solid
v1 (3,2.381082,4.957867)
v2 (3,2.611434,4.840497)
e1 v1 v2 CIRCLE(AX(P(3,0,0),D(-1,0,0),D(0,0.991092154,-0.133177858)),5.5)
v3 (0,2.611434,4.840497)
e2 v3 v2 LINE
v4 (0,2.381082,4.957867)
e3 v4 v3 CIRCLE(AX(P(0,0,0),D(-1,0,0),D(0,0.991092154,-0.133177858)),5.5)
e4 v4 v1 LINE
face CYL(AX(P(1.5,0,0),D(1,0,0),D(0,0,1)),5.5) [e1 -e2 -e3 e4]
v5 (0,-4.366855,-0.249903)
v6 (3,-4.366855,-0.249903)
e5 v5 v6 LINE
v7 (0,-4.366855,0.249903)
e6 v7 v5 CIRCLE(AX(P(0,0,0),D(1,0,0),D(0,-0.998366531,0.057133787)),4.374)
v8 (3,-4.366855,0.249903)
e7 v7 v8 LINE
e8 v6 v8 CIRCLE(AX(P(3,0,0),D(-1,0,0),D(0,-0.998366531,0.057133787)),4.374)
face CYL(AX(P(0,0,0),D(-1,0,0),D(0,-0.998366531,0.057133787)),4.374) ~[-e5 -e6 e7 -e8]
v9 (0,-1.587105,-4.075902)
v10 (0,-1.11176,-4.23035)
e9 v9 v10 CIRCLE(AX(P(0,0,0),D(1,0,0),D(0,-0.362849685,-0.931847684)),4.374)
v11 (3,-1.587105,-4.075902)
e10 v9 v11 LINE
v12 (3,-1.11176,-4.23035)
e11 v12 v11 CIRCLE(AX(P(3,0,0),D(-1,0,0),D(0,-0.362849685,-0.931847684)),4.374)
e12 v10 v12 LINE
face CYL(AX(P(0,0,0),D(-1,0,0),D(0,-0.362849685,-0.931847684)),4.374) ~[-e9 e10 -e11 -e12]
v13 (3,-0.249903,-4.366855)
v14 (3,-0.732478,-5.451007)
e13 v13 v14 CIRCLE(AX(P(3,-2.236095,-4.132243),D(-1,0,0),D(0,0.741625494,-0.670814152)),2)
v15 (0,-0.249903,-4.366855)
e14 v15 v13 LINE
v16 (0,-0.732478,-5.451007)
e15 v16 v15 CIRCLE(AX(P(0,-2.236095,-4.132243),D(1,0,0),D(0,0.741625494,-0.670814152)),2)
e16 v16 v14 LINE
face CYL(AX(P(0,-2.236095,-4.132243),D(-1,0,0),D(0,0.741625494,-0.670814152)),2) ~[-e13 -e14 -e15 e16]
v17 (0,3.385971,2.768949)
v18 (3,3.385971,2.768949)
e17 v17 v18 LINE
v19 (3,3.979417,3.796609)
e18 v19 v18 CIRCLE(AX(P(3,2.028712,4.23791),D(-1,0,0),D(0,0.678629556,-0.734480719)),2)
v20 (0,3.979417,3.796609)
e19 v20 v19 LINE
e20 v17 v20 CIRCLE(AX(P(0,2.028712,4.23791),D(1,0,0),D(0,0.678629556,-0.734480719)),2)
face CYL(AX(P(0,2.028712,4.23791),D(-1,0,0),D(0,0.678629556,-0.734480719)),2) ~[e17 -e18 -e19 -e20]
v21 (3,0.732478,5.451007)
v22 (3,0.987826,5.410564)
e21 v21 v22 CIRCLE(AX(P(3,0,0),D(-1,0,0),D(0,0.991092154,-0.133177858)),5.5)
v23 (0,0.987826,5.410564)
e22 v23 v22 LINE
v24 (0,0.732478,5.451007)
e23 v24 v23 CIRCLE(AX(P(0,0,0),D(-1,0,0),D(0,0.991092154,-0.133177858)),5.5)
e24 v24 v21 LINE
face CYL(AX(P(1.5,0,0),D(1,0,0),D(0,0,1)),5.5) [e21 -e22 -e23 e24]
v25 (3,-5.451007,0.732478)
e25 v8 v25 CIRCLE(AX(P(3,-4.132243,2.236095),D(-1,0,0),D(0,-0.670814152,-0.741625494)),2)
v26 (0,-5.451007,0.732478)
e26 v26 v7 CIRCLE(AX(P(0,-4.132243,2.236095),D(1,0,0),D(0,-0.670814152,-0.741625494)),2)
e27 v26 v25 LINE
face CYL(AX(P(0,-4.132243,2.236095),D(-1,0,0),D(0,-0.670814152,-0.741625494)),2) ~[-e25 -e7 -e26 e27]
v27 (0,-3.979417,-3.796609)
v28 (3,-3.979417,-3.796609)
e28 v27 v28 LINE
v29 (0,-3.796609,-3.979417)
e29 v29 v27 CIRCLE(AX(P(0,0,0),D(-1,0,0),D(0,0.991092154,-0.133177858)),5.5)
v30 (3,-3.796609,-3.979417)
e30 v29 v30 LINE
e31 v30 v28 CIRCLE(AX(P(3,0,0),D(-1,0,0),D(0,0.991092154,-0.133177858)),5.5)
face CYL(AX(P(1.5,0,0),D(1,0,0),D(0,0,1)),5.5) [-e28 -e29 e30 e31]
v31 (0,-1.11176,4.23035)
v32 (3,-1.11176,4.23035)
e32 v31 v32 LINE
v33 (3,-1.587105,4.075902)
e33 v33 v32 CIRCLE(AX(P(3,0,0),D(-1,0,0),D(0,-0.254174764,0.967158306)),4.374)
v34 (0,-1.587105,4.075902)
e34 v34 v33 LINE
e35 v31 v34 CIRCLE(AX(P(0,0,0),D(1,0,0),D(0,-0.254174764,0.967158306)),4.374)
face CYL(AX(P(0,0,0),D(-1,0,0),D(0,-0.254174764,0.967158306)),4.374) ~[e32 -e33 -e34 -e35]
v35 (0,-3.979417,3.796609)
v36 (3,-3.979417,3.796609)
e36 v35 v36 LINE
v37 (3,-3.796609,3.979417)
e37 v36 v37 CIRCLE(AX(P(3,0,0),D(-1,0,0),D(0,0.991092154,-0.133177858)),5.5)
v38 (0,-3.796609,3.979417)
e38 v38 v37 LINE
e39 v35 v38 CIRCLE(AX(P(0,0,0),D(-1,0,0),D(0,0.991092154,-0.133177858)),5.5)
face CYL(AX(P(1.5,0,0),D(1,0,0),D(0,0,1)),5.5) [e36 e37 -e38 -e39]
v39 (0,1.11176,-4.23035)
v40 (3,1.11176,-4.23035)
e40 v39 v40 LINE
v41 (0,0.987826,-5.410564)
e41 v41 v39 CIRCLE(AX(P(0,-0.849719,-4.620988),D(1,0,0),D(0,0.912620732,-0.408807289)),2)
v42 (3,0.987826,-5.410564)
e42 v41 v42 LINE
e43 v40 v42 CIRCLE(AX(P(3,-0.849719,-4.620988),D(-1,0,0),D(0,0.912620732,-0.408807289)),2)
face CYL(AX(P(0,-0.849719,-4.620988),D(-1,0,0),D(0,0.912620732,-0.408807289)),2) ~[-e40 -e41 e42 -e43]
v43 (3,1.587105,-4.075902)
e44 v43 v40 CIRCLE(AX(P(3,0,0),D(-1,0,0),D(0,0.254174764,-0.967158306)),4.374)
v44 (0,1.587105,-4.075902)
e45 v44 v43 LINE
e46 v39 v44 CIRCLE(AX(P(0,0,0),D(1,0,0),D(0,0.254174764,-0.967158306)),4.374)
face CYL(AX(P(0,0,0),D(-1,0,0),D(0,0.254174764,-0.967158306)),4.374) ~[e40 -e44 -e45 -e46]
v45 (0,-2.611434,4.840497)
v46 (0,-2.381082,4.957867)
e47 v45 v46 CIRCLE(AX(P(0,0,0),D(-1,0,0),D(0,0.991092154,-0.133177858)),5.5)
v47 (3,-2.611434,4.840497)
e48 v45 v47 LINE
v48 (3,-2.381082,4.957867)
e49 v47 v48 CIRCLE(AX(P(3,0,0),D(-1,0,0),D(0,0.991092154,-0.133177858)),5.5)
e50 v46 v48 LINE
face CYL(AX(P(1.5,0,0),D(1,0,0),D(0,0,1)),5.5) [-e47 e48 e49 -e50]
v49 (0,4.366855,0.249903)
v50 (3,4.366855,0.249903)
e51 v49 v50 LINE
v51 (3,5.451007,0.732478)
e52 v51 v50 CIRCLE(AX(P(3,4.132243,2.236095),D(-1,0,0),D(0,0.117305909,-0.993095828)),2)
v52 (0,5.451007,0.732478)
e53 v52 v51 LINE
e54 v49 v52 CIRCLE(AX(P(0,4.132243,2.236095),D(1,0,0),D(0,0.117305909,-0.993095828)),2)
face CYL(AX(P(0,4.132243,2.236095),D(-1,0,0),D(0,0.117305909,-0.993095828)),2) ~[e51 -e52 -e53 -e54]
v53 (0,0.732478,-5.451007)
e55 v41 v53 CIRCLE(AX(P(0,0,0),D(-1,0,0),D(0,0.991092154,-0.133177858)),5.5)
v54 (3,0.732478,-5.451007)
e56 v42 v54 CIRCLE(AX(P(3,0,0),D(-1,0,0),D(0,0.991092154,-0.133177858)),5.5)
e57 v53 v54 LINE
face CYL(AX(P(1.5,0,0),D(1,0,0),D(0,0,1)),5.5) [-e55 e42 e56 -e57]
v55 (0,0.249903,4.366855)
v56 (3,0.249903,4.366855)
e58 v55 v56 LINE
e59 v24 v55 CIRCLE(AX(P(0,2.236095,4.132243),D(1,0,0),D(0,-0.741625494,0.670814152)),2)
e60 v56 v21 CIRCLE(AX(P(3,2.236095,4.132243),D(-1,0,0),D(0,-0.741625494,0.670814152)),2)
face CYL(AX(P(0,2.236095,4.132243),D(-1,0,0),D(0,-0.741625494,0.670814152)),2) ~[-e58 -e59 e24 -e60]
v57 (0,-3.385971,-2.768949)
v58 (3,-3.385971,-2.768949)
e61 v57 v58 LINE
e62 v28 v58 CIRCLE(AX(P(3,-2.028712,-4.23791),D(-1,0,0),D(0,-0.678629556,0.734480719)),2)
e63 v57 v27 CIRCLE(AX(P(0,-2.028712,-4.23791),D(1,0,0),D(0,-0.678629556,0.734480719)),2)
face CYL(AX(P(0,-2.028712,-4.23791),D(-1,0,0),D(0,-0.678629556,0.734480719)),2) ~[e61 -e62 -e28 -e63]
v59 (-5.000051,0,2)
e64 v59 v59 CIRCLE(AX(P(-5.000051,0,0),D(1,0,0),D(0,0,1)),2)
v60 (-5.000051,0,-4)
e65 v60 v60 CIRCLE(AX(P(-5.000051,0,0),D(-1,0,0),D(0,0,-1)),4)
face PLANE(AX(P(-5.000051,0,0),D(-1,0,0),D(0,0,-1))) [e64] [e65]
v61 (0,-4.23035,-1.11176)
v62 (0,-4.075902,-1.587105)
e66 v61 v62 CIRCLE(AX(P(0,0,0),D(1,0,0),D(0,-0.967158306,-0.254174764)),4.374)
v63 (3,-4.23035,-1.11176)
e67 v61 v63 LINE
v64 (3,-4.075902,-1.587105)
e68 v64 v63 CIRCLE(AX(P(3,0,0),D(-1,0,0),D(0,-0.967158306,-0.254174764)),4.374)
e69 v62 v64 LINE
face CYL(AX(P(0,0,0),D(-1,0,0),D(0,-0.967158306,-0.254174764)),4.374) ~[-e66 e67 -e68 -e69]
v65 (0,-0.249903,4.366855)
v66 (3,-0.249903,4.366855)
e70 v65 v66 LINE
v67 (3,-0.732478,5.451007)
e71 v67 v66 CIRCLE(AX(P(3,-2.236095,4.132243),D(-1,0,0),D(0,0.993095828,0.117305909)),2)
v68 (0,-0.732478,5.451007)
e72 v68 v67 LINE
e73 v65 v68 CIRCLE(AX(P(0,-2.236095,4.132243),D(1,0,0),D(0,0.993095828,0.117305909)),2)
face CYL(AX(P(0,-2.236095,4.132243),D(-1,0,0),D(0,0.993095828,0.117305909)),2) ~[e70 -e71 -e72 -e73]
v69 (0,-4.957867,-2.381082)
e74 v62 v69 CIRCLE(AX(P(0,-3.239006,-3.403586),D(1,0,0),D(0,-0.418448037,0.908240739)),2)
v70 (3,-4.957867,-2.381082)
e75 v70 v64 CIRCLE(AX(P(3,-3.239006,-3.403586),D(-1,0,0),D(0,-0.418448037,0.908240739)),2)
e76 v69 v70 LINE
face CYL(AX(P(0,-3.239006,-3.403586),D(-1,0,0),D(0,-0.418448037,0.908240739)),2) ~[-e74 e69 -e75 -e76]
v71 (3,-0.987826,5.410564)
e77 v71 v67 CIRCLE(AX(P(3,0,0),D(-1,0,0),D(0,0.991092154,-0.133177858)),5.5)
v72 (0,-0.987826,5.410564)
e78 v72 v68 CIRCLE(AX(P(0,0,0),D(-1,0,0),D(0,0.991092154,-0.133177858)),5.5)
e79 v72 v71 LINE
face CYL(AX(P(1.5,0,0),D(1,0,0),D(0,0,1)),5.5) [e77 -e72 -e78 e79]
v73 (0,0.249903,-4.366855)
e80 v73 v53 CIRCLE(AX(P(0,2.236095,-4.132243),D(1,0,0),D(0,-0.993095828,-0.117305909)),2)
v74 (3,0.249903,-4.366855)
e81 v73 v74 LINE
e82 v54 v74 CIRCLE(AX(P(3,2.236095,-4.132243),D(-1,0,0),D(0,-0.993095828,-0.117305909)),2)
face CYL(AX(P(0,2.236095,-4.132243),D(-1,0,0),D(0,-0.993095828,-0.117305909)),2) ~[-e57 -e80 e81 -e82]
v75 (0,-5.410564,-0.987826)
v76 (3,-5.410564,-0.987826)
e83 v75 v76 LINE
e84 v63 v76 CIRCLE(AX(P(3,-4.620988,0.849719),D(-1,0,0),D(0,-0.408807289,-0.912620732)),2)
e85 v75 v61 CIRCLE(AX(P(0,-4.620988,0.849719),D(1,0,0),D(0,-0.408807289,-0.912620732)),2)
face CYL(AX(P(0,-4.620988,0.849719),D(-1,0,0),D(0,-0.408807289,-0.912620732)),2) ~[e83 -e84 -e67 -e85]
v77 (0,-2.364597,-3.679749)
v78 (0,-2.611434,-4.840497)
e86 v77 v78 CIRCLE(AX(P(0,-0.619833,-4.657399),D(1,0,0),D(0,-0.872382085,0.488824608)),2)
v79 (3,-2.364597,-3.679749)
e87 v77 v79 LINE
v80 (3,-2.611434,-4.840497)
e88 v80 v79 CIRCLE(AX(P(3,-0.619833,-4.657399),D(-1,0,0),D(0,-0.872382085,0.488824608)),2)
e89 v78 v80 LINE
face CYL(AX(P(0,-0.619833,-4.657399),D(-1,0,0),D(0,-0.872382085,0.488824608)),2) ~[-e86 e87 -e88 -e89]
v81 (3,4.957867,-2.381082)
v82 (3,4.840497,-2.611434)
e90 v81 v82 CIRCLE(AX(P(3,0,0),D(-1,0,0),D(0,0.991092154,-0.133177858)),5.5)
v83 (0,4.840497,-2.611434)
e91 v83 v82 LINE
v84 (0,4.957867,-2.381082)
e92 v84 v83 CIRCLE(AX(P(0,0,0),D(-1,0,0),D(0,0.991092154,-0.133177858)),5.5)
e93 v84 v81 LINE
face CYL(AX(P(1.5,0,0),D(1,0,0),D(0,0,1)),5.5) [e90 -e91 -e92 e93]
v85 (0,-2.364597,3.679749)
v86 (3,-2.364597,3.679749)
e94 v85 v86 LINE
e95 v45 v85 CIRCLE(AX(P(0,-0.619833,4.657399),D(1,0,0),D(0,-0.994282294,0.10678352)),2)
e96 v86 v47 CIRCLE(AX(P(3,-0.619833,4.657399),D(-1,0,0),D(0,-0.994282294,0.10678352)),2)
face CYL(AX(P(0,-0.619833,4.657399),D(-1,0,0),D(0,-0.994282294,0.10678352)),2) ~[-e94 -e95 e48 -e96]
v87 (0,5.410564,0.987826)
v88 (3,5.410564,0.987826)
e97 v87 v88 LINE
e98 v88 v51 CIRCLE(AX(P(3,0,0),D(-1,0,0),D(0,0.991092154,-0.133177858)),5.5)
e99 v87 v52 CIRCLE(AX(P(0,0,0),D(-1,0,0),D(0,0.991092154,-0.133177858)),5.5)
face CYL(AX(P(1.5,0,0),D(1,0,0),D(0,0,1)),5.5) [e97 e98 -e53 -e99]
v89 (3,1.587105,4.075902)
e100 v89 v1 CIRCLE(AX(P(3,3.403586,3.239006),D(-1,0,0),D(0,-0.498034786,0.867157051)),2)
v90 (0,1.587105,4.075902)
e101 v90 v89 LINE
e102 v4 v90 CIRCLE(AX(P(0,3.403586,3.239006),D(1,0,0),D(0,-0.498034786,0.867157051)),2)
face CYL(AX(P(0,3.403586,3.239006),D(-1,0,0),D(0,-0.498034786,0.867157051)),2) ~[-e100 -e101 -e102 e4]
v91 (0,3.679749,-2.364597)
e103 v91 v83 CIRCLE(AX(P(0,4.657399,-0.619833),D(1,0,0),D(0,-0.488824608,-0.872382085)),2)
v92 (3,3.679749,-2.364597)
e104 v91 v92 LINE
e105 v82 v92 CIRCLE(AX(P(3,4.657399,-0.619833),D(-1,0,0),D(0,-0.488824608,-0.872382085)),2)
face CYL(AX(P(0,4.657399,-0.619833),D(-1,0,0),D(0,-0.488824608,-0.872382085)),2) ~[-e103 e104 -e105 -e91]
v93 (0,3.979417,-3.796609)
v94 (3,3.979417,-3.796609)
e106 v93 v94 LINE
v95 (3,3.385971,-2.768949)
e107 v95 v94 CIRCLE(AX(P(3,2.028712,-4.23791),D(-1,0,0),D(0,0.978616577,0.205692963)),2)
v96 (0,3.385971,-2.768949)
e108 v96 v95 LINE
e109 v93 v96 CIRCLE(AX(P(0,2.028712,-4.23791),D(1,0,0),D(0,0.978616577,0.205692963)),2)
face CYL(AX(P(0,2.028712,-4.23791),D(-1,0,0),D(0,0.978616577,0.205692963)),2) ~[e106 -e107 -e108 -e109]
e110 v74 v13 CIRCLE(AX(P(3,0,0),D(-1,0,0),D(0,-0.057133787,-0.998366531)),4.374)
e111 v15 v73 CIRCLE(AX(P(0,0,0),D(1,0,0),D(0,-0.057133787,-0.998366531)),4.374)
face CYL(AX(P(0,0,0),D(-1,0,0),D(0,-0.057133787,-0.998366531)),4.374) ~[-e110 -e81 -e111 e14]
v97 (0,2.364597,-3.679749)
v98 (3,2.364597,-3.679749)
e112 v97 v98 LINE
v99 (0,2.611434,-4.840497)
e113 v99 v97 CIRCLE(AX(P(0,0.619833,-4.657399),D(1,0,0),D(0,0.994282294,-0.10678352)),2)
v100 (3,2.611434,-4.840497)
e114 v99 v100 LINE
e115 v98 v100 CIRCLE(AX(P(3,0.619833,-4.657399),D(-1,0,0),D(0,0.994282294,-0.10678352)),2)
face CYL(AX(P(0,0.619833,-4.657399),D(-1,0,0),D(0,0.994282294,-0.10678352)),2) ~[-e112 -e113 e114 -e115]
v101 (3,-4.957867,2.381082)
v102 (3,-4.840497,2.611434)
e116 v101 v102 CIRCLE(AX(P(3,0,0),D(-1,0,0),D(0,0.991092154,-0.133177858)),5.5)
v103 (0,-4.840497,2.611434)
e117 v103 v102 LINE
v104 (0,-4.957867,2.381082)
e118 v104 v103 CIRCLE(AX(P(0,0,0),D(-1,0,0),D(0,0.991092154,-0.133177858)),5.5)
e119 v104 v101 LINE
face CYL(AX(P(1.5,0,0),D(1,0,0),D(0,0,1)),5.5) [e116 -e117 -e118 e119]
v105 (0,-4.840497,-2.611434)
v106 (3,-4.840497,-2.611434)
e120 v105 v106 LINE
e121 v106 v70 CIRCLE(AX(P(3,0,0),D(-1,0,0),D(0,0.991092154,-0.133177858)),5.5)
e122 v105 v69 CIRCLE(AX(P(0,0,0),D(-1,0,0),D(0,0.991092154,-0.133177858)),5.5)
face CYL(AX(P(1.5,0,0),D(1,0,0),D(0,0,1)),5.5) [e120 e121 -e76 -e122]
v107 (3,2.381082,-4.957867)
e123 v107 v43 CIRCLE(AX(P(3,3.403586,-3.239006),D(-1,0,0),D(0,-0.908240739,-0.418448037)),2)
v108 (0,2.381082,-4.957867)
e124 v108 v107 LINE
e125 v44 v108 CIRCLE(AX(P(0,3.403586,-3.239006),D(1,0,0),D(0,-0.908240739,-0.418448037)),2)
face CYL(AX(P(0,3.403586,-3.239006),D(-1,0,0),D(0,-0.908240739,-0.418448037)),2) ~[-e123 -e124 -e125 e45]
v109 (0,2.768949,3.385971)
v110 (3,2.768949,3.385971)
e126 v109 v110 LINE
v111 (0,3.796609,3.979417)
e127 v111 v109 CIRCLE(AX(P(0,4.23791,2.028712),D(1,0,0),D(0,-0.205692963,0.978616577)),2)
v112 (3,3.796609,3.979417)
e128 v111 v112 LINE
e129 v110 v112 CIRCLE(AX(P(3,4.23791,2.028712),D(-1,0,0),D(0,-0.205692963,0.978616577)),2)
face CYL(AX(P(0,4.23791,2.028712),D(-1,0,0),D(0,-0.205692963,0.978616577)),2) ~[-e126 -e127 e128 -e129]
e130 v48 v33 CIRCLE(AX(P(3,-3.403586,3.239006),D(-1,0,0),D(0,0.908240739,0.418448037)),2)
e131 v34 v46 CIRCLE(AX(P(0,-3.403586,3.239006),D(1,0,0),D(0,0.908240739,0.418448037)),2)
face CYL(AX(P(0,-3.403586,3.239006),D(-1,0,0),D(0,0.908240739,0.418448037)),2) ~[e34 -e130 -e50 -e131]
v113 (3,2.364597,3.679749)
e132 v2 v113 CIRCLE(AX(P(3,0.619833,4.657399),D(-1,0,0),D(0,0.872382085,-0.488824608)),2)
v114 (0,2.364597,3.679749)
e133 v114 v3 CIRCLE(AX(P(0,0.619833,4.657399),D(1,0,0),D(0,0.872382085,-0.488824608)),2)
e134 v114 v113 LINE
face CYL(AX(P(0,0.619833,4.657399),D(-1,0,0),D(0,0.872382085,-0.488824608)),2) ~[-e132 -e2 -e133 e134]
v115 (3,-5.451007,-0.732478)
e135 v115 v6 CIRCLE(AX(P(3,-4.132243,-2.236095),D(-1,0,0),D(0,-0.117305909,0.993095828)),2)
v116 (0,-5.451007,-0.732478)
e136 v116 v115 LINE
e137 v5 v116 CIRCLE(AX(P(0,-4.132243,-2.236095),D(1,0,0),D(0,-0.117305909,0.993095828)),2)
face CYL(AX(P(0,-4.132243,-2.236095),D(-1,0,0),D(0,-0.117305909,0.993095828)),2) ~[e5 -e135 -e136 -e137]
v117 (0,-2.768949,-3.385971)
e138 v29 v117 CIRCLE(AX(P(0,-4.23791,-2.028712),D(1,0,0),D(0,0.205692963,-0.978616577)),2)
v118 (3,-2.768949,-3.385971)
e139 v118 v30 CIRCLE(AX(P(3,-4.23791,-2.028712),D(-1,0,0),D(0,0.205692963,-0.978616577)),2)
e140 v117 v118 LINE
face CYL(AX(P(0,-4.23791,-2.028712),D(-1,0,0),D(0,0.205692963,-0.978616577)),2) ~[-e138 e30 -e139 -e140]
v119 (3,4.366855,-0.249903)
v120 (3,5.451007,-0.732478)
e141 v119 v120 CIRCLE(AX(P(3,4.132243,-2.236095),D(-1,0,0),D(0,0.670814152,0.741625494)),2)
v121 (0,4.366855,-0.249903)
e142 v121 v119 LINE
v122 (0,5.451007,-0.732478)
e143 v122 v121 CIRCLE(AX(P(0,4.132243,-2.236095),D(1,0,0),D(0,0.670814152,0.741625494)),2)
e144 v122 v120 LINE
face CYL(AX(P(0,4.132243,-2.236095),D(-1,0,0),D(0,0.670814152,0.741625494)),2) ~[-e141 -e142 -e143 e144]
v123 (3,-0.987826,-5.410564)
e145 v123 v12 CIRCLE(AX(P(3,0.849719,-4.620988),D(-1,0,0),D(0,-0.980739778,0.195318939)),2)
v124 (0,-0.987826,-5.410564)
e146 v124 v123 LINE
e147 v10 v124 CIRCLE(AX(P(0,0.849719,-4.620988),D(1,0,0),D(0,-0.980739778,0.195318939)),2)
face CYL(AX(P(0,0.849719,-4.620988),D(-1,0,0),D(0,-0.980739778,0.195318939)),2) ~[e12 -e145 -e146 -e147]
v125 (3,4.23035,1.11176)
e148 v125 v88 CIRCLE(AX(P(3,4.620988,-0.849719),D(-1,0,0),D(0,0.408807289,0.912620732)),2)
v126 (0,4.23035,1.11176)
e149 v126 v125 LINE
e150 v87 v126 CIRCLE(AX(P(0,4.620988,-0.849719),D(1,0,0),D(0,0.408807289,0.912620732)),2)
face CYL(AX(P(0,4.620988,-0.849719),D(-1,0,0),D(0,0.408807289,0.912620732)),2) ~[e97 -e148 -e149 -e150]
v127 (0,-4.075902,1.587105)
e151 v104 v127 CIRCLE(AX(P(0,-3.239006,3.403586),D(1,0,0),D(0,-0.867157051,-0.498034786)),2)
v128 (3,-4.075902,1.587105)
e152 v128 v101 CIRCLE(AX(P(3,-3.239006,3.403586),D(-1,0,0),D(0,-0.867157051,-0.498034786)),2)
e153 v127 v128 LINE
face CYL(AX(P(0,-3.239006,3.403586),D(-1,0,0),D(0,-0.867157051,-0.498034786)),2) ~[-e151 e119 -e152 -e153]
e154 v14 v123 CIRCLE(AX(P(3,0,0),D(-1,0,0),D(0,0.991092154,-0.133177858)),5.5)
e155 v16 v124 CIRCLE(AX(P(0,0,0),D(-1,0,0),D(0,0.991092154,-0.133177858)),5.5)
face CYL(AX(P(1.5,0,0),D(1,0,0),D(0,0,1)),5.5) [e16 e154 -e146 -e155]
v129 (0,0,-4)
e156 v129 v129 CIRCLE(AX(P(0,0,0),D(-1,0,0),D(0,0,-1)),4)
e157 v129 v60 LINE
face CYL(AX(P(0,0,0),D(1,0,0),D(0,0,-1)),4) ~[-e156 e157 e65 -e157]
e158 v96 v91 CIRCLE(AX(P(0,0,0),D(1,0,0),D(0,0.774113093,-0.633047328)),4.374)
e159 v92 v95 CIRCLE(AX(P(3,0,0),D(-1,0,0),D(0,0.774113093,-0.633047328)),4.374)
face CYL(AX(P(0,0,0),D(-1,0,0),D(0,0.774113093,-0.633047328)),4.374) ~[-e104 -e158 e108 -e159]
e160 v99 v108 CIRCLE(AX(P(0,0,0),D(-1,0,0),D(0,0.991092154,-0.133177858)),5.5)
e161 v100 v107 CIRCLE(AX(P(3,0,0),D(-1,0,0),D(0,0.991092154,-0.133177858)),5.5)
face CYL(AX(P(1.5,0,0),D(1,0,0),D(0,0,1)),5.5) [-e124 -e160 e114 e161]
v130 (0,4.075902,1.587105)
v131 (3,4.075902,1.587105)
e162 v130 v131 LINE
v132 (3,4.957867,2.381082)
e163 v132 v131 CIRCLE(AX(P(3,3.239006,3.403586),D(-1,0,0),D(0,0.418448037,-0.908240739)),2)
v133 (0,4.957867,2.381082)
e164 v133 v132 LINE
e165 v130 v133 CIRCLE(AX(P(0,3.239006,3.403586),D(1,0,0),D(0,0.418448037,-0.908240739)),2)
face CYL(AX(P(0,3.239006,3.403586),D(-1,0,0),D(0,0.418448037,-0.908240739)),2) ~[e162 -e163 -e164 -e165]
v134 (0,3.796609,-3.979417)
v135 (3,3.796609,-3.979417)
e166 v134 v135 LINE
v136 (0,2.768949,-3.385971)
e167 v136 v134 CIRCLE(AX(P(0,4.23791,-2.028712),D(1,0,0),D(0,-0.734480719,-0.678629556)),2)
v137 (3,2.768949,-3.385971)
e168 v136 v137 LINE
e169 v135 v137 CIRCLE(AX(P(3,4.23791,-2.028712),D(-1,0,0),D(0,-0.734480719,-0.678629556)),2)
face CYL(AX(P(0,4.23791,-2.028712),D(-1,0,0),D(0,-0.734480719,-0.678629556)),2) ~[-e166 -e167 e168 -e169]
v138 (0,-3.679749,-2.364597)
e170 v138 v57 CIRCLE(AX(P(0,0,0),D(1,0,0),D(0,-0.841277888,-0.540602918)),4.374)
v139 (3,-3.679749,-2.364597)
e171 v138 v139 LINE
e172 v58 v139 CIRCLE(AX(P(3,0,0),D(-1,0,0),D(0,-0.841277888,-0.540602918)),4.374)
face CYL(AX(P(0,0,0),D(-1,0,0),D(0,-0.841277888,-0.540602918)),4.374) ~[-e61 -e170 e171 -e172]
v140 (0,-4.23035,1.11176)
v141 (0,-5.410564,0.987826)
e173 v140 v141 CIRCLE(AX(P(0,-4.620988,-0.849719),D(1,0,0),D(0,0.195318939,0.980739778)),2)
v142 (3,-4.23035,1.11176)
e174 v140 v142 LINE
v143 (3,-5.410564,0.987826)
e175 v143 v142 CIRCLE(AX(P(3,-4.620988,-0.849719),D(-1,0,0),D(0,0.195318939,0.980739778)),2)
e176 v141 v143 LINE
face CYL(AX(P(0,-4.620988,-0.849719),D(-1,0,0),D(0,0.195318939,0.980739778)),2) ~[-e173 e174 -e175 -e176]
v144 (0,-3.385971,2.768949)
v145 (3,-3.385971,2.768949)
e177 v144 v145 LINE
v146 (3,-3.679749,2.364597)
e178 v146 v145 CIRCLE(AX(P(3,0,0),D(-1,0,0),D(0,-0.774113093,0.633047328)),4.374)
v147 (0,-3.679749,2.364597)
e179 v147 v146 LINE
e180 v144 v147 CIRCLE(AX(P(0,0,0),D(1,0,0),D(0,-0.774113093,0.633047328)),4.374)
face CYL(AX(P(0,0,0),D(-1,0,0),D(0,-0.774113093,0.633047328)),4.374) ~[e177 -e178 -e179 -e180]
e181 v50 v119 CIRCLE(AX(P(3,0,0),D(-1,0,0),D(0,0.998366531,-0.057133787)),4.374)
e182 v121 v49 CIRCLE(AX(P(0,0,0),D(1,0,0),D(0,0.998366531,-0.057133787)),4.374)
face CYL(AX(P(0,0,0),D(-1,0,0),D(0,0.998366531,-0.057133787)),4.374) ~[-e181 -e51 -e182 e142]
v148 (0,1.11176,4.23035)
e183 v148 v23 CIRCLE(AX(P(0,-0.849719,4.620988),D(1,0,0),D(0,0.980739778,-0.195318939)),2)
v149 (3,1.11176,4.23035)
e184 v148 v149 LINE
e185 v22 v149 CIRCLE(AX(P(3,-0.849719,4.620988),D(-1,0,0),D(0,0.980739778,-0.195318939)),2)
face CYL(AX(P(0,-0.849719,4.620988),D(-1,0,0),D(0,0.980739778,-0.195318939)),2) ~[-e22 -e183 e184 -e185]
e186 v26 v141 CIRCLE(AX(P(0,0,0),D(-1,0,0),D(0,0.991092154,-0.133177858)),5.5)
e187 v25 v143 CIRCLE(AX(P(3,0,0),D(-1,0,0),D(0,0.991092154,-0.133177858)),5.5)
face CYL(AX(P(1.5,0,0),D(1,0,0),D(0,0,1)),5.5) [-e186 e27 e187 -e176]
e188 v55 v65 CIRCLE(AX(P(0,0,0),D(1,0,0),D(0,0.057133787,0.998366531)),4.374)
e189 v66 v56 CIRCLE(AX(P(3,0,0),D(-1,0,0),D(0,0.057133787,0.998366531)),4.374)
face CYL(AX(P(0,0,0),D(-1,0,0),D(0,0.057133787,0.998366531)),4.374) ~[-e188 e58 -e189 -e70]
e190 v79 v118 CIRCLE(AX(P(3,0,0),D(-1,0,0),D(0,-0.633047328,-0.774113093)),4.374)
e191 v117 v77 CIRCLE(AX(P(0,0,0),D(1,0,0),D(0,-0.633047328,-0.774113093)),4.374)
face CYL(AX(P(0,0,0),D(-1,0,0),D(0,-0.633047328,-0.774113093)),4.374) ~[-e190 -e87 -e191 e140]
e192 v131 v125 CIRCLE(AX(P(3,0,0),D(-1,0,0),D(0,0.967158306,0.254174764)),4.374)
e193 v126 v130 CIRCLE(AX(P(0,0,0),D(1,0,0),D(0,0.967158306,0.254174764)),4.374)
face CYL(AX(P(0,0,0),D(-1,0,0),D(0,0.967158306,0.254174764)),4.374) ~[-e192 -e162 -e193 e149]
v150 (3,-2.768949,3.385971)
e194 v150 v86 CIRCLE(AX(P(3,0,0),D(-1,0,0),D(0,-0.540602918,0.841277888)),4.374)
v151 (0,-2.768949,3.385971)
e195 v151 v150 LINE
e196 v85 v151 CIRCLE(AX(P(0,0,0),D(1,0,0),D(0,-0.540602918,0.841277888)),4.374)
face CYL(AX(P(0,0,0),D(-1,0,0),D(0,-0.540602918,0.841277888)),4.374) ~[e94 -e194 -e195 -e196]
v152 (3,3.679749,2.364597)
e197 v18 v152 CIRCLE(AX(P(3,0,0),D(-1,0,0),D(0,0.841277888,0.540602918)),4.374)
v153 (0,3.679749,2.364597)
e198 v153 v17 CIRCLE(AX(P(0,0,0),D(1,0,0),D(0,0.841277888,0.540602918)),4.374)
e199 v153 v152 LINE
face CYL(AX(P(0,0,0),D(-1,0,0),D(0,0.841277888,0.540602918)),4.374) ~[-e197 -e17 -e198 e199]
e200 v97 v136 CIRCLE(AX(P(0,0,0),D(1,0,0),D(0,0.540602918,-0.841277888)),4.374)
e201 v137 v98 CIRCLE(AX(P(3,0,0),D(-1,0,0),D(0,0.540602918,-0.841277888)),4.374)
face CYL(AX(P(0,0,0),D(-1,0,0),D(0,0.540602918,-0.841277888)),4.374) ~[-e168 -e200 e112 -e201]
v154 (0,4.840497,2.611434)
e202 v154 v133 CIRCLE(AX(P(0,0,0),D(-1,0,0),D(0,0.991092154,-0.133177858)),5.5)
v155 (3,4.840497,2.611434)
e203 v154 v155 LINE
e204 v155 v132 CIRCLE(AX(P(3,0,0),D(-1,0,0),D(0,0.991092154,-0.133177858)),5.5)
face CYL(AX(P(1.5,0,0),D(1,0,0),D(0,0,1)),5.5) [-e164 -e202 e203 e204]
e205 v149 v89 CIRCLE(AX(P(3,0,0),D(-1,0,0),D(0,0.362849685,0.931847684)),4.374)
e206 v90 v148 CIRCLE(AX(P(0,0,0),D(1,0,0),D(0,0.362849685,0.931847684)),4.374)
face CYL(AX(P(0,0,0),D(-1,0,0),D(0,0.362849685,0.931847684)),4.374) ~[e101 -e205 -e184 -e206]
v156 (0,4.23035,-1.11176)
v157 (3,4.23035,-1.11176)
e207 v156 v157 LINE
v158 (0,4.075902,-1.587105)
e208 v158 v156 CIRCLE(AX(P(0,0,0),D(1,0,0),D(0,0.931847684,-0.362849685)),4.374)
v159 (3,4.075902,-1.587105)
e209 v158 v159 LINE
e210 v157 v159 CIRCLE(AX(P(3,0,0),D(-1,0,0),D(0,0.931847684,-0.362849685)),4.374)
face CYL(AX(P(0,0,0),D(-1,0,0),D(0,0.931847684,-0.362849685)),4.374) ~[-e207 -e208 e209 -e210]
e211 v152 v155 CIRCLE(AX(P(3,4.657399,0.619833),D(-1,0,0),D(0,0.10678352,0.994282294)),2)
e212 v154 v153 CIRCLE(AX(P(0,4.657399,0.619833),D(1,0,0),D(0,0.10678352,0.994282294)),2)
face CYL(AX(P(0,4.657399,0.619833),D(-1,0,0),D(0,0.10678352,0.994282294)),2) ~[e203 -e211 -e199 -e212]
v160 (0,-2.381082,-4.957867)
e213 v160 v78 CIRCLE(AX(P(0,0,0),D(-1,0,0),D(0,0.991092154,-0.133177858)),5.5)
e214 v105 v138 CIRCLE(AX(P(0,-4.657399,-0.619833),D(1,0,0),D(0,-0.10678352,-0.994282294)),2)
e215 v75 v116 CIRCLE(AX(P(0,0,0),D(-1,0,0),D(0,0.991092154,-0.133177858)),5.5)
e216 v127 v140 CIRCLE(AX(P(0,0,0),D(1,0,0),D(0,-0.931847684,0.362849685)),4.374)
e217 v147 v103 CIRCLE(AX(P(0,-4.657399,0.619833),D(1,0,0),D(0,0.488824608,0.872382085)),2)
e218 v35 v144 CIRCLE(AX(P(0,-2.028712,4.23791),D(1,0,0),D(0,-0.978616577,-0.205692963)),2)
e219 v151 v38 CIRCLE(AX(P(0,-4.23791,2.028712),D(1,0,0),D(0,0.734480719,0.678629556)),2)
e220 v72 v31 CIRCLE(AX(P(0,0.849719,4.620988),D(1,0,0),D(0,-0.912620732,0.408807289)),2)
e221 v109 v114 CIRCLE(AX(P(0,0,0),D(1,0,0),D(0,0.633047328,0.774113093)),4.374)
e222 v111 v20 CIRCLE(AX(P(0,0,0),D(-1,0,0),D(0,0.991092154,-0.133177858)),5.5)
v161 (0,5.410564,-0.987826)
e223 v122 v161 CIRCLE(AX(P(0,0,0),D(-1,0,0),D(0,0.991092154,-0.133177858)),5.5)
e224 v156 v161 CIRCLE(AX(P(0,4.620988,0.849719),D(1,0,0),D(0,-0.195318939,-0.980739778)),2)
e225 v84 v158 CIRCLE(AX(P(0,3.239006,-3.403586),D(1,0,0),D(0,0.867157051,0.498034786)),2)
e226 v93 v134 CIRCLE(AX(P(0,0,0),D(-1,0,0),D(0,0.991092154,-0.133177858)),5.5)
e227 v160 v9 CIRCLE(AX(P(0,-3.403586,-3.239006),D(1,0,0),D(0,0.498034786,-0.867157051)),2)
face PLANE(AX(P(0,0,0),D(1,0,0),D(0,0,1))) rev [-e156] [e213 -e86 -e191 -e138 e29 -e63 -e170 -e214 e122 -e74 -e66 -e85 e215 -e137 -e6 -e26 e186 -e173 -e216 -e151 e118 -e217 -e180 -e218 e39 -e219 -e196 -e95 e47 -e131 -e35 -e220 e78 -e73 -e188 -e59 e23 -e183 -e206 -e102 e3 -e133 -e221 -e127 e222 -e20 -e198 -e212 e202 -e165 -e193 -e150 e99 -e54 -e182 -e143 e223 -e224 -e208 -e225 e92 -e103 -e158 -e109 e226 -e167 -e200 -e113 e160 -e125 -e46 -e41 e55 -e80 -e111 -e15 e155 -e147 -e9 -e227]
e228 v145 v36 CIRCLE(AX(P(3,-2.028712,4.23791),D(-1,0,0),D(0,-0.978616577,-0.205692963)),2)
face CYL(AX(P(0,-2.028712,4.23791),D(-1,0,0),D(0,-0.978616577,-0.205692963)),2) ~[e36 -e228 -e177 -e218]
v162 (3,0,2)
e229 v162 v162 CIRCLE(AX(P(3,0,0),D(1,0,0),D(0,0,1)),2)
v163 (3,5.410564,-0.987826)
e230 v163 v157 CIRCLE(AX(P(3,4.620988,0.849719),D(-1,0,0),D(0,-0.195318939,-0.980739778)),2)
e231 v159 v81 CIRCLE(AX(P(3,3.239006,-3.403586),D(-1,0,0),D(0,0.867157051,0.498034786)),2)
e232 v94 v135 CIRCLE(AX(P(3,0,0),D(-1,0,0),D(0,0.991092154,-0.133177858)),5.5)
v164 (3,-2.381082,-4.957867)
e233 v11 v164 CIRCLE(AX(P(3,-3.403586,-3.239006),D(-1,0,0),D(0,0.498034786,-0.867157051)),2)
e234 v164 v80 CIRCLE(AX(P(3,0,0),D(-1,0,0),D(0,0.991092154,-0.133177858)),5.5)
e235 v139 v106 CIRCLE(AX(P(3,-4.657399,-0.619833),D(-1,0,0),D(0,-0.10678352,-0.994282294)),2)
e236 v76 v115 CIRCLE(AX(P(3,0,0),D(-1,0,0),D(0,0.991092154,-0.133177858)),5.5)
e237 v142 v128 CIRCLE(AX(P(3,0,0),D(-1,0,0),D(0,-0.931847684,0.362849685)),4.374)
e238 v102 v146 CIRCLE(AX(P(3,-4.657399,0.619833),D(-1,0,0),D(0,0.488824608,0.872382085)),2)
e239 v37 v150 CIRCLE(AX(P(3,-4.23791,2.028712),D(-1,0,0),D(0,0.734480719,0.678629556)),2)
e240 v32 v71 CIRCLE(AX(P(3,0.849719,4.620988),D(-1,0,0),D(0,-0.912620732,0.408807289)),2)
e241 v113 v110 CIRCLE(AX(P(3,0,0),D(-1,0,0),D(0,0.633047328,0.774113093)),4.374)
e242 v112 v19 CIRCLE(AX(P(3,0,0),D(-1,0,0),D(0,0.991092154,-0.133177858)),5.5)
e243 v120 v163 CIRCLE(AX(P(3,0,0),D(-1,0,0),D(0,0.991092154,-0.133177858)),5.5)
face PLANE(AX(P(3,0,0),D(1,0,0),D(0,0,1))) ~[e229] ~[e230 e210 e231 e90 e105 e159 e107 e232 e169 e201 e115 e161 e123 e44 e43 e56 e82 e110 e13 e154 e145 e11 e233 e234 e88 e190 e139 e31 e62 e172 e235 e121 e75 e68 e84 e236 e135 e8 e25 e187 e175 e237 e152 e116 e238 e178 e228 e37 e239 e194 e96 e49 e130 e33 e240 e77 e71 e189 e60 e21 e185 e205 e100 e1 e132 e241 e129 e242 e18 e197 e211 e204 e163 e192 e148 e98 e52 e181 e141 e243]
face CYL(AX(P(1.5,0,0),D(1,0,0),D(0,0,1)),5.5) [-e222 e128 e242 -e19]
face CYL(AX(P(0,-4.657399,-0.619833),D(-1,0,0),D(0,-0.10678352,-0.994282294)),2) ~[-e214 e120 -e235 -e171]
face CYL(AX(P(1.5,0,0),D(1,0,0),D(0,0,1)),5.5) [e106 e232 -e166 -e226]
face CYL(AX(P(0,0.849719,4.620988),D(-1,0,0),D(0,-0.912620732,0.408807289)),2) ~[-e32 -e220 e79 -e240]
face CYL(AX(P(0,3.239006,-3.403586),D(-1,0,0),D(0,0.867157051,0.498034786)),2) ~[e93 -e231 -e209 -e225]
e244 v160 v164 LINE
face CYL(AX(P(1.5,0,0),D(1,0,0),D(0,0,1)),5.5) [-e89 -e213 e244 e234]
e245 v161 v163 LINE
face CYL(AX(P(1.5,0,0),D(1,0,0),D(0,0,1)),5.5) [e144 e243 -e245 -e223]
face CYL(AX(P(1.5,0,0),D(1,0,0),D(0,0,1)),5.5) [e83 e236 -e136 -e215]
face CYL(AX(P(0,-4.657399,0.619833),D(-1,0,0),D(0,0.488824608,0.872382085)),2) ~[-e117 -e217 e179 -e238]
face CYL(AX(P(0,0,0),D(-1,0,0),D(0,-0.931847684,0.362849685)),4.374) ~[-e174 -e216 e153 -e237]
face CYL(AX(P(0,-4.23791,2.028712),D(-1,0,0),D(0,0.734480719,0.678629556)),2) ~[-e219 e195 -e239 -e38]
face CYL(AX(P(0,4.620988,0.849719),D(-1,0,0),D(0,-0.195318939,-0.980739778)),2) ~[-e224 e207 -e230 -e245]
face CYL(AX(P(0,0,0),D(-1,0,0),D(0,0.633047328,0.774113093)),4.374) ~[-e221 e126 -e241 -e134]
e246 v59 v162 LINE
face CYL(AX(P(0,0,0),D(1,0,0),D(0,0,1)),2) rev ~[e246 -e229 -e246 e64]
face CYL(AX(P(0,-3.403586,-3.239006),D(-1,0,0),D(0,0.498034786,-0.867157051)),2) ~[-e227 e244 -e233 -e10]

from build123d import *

# Parameters (mm, degrees)
BASPROSKE_W      = 3
BASPROSKE_H      = 5.5
TOOTHCUT_DEPTH   = 9.336666
TEETHCUTS_COUNT  = 20
TEETHCUTS_ANGLE  = 342
HUBNEAONESKE_R   = 4
HUBNEARONE_DEPTH = 5.0000508
BORSKE_R         = 2
BORE_DEPTH       = 8.0000508


with BuildPart() as part:
    # BasProSke → Base-Revolve (revolve)
    with BuildSketch(Plane(origin=(0, 0, 0), x_dir=(1, 0, 0), z_dir=(0, 1, 0)), mode=Mode.PRIVATE) as base_revolve_sk:
        with Locations((1.5, 2.75)):
            Rectangle(BASPROSKE_W, BASPROSKE_H)
    revolve(base_revolve_sk.sketch.rotate(Axis((-10, 0, 0), (1, 0, 0)), 180), axis=Axis((-10, 0, 0), (1, 0, 0)))

    # TooCutSke → ToothCut (cut, through all)
    with BuildSketch(Plane(origin=(0, 0, 0), x_dir=(0, 0, -1), z_dir=(1, 0, 0))):
        with BuildLine():
            ThreePointArc((0.249903181, 4.366855207), (0, 4.374), (-0.249903181, 4.366855207))
            ThreePointArc((-0.249903181, 4.366855207), (-0.415207844, 4.95951031), (-0.752843848, 5.473871692))
            ThreePointArc((-0.752843848, 5.473871692), (0, 5.5254), (0.752843848, 5.473871692))
            ThreePointArc((0.752843848, 5.473871692), (0.415207844, 4.95951031), (0.249903181, 4.366855207))
        make_face()
    toothcut = extrude(amount=TOOTHCUT_DEPTH, mode=Mode.SUBTRACT)

    # TeethCuts: ToothCut ×20 about axis
    teethcuts_axis = Axis((-10, 0, 0), (1, 0, 0))
    for i in range(1, TEETHCUTS_COUNT):
        add(toothcut.rotate(teethcuts_axis, i * TEETHCUTS_ANGLE / (TEETHCUTS_COUNT - 1)), mode=Mode.SUBTRACT)

    # HubNeaOneSke → HubNearOne (add)
    with BuildSketch(Plane.ZY):
        with Locations(Location((0, 0, 0), (0, 0, 180))):
            Circle(HUBNEAONESKE_R)
    extrude(amount=HUBNEARONE_DEPTH)

    # BorSke → Bore (cut, symmetric)
    with BuildSketch(Plane(origin=(0, 0, 0), x_dir=(0, 0, -1), z_dir=(1, 0, 0))):
        with Locations(Location((0, 0, 0), (0, 0, 180))):
            Circle(BORSKE_R)
    extrude(amount=BORE_DEPTH, both=True, mode=Mode.SUBTRACT)


solid = part.part
